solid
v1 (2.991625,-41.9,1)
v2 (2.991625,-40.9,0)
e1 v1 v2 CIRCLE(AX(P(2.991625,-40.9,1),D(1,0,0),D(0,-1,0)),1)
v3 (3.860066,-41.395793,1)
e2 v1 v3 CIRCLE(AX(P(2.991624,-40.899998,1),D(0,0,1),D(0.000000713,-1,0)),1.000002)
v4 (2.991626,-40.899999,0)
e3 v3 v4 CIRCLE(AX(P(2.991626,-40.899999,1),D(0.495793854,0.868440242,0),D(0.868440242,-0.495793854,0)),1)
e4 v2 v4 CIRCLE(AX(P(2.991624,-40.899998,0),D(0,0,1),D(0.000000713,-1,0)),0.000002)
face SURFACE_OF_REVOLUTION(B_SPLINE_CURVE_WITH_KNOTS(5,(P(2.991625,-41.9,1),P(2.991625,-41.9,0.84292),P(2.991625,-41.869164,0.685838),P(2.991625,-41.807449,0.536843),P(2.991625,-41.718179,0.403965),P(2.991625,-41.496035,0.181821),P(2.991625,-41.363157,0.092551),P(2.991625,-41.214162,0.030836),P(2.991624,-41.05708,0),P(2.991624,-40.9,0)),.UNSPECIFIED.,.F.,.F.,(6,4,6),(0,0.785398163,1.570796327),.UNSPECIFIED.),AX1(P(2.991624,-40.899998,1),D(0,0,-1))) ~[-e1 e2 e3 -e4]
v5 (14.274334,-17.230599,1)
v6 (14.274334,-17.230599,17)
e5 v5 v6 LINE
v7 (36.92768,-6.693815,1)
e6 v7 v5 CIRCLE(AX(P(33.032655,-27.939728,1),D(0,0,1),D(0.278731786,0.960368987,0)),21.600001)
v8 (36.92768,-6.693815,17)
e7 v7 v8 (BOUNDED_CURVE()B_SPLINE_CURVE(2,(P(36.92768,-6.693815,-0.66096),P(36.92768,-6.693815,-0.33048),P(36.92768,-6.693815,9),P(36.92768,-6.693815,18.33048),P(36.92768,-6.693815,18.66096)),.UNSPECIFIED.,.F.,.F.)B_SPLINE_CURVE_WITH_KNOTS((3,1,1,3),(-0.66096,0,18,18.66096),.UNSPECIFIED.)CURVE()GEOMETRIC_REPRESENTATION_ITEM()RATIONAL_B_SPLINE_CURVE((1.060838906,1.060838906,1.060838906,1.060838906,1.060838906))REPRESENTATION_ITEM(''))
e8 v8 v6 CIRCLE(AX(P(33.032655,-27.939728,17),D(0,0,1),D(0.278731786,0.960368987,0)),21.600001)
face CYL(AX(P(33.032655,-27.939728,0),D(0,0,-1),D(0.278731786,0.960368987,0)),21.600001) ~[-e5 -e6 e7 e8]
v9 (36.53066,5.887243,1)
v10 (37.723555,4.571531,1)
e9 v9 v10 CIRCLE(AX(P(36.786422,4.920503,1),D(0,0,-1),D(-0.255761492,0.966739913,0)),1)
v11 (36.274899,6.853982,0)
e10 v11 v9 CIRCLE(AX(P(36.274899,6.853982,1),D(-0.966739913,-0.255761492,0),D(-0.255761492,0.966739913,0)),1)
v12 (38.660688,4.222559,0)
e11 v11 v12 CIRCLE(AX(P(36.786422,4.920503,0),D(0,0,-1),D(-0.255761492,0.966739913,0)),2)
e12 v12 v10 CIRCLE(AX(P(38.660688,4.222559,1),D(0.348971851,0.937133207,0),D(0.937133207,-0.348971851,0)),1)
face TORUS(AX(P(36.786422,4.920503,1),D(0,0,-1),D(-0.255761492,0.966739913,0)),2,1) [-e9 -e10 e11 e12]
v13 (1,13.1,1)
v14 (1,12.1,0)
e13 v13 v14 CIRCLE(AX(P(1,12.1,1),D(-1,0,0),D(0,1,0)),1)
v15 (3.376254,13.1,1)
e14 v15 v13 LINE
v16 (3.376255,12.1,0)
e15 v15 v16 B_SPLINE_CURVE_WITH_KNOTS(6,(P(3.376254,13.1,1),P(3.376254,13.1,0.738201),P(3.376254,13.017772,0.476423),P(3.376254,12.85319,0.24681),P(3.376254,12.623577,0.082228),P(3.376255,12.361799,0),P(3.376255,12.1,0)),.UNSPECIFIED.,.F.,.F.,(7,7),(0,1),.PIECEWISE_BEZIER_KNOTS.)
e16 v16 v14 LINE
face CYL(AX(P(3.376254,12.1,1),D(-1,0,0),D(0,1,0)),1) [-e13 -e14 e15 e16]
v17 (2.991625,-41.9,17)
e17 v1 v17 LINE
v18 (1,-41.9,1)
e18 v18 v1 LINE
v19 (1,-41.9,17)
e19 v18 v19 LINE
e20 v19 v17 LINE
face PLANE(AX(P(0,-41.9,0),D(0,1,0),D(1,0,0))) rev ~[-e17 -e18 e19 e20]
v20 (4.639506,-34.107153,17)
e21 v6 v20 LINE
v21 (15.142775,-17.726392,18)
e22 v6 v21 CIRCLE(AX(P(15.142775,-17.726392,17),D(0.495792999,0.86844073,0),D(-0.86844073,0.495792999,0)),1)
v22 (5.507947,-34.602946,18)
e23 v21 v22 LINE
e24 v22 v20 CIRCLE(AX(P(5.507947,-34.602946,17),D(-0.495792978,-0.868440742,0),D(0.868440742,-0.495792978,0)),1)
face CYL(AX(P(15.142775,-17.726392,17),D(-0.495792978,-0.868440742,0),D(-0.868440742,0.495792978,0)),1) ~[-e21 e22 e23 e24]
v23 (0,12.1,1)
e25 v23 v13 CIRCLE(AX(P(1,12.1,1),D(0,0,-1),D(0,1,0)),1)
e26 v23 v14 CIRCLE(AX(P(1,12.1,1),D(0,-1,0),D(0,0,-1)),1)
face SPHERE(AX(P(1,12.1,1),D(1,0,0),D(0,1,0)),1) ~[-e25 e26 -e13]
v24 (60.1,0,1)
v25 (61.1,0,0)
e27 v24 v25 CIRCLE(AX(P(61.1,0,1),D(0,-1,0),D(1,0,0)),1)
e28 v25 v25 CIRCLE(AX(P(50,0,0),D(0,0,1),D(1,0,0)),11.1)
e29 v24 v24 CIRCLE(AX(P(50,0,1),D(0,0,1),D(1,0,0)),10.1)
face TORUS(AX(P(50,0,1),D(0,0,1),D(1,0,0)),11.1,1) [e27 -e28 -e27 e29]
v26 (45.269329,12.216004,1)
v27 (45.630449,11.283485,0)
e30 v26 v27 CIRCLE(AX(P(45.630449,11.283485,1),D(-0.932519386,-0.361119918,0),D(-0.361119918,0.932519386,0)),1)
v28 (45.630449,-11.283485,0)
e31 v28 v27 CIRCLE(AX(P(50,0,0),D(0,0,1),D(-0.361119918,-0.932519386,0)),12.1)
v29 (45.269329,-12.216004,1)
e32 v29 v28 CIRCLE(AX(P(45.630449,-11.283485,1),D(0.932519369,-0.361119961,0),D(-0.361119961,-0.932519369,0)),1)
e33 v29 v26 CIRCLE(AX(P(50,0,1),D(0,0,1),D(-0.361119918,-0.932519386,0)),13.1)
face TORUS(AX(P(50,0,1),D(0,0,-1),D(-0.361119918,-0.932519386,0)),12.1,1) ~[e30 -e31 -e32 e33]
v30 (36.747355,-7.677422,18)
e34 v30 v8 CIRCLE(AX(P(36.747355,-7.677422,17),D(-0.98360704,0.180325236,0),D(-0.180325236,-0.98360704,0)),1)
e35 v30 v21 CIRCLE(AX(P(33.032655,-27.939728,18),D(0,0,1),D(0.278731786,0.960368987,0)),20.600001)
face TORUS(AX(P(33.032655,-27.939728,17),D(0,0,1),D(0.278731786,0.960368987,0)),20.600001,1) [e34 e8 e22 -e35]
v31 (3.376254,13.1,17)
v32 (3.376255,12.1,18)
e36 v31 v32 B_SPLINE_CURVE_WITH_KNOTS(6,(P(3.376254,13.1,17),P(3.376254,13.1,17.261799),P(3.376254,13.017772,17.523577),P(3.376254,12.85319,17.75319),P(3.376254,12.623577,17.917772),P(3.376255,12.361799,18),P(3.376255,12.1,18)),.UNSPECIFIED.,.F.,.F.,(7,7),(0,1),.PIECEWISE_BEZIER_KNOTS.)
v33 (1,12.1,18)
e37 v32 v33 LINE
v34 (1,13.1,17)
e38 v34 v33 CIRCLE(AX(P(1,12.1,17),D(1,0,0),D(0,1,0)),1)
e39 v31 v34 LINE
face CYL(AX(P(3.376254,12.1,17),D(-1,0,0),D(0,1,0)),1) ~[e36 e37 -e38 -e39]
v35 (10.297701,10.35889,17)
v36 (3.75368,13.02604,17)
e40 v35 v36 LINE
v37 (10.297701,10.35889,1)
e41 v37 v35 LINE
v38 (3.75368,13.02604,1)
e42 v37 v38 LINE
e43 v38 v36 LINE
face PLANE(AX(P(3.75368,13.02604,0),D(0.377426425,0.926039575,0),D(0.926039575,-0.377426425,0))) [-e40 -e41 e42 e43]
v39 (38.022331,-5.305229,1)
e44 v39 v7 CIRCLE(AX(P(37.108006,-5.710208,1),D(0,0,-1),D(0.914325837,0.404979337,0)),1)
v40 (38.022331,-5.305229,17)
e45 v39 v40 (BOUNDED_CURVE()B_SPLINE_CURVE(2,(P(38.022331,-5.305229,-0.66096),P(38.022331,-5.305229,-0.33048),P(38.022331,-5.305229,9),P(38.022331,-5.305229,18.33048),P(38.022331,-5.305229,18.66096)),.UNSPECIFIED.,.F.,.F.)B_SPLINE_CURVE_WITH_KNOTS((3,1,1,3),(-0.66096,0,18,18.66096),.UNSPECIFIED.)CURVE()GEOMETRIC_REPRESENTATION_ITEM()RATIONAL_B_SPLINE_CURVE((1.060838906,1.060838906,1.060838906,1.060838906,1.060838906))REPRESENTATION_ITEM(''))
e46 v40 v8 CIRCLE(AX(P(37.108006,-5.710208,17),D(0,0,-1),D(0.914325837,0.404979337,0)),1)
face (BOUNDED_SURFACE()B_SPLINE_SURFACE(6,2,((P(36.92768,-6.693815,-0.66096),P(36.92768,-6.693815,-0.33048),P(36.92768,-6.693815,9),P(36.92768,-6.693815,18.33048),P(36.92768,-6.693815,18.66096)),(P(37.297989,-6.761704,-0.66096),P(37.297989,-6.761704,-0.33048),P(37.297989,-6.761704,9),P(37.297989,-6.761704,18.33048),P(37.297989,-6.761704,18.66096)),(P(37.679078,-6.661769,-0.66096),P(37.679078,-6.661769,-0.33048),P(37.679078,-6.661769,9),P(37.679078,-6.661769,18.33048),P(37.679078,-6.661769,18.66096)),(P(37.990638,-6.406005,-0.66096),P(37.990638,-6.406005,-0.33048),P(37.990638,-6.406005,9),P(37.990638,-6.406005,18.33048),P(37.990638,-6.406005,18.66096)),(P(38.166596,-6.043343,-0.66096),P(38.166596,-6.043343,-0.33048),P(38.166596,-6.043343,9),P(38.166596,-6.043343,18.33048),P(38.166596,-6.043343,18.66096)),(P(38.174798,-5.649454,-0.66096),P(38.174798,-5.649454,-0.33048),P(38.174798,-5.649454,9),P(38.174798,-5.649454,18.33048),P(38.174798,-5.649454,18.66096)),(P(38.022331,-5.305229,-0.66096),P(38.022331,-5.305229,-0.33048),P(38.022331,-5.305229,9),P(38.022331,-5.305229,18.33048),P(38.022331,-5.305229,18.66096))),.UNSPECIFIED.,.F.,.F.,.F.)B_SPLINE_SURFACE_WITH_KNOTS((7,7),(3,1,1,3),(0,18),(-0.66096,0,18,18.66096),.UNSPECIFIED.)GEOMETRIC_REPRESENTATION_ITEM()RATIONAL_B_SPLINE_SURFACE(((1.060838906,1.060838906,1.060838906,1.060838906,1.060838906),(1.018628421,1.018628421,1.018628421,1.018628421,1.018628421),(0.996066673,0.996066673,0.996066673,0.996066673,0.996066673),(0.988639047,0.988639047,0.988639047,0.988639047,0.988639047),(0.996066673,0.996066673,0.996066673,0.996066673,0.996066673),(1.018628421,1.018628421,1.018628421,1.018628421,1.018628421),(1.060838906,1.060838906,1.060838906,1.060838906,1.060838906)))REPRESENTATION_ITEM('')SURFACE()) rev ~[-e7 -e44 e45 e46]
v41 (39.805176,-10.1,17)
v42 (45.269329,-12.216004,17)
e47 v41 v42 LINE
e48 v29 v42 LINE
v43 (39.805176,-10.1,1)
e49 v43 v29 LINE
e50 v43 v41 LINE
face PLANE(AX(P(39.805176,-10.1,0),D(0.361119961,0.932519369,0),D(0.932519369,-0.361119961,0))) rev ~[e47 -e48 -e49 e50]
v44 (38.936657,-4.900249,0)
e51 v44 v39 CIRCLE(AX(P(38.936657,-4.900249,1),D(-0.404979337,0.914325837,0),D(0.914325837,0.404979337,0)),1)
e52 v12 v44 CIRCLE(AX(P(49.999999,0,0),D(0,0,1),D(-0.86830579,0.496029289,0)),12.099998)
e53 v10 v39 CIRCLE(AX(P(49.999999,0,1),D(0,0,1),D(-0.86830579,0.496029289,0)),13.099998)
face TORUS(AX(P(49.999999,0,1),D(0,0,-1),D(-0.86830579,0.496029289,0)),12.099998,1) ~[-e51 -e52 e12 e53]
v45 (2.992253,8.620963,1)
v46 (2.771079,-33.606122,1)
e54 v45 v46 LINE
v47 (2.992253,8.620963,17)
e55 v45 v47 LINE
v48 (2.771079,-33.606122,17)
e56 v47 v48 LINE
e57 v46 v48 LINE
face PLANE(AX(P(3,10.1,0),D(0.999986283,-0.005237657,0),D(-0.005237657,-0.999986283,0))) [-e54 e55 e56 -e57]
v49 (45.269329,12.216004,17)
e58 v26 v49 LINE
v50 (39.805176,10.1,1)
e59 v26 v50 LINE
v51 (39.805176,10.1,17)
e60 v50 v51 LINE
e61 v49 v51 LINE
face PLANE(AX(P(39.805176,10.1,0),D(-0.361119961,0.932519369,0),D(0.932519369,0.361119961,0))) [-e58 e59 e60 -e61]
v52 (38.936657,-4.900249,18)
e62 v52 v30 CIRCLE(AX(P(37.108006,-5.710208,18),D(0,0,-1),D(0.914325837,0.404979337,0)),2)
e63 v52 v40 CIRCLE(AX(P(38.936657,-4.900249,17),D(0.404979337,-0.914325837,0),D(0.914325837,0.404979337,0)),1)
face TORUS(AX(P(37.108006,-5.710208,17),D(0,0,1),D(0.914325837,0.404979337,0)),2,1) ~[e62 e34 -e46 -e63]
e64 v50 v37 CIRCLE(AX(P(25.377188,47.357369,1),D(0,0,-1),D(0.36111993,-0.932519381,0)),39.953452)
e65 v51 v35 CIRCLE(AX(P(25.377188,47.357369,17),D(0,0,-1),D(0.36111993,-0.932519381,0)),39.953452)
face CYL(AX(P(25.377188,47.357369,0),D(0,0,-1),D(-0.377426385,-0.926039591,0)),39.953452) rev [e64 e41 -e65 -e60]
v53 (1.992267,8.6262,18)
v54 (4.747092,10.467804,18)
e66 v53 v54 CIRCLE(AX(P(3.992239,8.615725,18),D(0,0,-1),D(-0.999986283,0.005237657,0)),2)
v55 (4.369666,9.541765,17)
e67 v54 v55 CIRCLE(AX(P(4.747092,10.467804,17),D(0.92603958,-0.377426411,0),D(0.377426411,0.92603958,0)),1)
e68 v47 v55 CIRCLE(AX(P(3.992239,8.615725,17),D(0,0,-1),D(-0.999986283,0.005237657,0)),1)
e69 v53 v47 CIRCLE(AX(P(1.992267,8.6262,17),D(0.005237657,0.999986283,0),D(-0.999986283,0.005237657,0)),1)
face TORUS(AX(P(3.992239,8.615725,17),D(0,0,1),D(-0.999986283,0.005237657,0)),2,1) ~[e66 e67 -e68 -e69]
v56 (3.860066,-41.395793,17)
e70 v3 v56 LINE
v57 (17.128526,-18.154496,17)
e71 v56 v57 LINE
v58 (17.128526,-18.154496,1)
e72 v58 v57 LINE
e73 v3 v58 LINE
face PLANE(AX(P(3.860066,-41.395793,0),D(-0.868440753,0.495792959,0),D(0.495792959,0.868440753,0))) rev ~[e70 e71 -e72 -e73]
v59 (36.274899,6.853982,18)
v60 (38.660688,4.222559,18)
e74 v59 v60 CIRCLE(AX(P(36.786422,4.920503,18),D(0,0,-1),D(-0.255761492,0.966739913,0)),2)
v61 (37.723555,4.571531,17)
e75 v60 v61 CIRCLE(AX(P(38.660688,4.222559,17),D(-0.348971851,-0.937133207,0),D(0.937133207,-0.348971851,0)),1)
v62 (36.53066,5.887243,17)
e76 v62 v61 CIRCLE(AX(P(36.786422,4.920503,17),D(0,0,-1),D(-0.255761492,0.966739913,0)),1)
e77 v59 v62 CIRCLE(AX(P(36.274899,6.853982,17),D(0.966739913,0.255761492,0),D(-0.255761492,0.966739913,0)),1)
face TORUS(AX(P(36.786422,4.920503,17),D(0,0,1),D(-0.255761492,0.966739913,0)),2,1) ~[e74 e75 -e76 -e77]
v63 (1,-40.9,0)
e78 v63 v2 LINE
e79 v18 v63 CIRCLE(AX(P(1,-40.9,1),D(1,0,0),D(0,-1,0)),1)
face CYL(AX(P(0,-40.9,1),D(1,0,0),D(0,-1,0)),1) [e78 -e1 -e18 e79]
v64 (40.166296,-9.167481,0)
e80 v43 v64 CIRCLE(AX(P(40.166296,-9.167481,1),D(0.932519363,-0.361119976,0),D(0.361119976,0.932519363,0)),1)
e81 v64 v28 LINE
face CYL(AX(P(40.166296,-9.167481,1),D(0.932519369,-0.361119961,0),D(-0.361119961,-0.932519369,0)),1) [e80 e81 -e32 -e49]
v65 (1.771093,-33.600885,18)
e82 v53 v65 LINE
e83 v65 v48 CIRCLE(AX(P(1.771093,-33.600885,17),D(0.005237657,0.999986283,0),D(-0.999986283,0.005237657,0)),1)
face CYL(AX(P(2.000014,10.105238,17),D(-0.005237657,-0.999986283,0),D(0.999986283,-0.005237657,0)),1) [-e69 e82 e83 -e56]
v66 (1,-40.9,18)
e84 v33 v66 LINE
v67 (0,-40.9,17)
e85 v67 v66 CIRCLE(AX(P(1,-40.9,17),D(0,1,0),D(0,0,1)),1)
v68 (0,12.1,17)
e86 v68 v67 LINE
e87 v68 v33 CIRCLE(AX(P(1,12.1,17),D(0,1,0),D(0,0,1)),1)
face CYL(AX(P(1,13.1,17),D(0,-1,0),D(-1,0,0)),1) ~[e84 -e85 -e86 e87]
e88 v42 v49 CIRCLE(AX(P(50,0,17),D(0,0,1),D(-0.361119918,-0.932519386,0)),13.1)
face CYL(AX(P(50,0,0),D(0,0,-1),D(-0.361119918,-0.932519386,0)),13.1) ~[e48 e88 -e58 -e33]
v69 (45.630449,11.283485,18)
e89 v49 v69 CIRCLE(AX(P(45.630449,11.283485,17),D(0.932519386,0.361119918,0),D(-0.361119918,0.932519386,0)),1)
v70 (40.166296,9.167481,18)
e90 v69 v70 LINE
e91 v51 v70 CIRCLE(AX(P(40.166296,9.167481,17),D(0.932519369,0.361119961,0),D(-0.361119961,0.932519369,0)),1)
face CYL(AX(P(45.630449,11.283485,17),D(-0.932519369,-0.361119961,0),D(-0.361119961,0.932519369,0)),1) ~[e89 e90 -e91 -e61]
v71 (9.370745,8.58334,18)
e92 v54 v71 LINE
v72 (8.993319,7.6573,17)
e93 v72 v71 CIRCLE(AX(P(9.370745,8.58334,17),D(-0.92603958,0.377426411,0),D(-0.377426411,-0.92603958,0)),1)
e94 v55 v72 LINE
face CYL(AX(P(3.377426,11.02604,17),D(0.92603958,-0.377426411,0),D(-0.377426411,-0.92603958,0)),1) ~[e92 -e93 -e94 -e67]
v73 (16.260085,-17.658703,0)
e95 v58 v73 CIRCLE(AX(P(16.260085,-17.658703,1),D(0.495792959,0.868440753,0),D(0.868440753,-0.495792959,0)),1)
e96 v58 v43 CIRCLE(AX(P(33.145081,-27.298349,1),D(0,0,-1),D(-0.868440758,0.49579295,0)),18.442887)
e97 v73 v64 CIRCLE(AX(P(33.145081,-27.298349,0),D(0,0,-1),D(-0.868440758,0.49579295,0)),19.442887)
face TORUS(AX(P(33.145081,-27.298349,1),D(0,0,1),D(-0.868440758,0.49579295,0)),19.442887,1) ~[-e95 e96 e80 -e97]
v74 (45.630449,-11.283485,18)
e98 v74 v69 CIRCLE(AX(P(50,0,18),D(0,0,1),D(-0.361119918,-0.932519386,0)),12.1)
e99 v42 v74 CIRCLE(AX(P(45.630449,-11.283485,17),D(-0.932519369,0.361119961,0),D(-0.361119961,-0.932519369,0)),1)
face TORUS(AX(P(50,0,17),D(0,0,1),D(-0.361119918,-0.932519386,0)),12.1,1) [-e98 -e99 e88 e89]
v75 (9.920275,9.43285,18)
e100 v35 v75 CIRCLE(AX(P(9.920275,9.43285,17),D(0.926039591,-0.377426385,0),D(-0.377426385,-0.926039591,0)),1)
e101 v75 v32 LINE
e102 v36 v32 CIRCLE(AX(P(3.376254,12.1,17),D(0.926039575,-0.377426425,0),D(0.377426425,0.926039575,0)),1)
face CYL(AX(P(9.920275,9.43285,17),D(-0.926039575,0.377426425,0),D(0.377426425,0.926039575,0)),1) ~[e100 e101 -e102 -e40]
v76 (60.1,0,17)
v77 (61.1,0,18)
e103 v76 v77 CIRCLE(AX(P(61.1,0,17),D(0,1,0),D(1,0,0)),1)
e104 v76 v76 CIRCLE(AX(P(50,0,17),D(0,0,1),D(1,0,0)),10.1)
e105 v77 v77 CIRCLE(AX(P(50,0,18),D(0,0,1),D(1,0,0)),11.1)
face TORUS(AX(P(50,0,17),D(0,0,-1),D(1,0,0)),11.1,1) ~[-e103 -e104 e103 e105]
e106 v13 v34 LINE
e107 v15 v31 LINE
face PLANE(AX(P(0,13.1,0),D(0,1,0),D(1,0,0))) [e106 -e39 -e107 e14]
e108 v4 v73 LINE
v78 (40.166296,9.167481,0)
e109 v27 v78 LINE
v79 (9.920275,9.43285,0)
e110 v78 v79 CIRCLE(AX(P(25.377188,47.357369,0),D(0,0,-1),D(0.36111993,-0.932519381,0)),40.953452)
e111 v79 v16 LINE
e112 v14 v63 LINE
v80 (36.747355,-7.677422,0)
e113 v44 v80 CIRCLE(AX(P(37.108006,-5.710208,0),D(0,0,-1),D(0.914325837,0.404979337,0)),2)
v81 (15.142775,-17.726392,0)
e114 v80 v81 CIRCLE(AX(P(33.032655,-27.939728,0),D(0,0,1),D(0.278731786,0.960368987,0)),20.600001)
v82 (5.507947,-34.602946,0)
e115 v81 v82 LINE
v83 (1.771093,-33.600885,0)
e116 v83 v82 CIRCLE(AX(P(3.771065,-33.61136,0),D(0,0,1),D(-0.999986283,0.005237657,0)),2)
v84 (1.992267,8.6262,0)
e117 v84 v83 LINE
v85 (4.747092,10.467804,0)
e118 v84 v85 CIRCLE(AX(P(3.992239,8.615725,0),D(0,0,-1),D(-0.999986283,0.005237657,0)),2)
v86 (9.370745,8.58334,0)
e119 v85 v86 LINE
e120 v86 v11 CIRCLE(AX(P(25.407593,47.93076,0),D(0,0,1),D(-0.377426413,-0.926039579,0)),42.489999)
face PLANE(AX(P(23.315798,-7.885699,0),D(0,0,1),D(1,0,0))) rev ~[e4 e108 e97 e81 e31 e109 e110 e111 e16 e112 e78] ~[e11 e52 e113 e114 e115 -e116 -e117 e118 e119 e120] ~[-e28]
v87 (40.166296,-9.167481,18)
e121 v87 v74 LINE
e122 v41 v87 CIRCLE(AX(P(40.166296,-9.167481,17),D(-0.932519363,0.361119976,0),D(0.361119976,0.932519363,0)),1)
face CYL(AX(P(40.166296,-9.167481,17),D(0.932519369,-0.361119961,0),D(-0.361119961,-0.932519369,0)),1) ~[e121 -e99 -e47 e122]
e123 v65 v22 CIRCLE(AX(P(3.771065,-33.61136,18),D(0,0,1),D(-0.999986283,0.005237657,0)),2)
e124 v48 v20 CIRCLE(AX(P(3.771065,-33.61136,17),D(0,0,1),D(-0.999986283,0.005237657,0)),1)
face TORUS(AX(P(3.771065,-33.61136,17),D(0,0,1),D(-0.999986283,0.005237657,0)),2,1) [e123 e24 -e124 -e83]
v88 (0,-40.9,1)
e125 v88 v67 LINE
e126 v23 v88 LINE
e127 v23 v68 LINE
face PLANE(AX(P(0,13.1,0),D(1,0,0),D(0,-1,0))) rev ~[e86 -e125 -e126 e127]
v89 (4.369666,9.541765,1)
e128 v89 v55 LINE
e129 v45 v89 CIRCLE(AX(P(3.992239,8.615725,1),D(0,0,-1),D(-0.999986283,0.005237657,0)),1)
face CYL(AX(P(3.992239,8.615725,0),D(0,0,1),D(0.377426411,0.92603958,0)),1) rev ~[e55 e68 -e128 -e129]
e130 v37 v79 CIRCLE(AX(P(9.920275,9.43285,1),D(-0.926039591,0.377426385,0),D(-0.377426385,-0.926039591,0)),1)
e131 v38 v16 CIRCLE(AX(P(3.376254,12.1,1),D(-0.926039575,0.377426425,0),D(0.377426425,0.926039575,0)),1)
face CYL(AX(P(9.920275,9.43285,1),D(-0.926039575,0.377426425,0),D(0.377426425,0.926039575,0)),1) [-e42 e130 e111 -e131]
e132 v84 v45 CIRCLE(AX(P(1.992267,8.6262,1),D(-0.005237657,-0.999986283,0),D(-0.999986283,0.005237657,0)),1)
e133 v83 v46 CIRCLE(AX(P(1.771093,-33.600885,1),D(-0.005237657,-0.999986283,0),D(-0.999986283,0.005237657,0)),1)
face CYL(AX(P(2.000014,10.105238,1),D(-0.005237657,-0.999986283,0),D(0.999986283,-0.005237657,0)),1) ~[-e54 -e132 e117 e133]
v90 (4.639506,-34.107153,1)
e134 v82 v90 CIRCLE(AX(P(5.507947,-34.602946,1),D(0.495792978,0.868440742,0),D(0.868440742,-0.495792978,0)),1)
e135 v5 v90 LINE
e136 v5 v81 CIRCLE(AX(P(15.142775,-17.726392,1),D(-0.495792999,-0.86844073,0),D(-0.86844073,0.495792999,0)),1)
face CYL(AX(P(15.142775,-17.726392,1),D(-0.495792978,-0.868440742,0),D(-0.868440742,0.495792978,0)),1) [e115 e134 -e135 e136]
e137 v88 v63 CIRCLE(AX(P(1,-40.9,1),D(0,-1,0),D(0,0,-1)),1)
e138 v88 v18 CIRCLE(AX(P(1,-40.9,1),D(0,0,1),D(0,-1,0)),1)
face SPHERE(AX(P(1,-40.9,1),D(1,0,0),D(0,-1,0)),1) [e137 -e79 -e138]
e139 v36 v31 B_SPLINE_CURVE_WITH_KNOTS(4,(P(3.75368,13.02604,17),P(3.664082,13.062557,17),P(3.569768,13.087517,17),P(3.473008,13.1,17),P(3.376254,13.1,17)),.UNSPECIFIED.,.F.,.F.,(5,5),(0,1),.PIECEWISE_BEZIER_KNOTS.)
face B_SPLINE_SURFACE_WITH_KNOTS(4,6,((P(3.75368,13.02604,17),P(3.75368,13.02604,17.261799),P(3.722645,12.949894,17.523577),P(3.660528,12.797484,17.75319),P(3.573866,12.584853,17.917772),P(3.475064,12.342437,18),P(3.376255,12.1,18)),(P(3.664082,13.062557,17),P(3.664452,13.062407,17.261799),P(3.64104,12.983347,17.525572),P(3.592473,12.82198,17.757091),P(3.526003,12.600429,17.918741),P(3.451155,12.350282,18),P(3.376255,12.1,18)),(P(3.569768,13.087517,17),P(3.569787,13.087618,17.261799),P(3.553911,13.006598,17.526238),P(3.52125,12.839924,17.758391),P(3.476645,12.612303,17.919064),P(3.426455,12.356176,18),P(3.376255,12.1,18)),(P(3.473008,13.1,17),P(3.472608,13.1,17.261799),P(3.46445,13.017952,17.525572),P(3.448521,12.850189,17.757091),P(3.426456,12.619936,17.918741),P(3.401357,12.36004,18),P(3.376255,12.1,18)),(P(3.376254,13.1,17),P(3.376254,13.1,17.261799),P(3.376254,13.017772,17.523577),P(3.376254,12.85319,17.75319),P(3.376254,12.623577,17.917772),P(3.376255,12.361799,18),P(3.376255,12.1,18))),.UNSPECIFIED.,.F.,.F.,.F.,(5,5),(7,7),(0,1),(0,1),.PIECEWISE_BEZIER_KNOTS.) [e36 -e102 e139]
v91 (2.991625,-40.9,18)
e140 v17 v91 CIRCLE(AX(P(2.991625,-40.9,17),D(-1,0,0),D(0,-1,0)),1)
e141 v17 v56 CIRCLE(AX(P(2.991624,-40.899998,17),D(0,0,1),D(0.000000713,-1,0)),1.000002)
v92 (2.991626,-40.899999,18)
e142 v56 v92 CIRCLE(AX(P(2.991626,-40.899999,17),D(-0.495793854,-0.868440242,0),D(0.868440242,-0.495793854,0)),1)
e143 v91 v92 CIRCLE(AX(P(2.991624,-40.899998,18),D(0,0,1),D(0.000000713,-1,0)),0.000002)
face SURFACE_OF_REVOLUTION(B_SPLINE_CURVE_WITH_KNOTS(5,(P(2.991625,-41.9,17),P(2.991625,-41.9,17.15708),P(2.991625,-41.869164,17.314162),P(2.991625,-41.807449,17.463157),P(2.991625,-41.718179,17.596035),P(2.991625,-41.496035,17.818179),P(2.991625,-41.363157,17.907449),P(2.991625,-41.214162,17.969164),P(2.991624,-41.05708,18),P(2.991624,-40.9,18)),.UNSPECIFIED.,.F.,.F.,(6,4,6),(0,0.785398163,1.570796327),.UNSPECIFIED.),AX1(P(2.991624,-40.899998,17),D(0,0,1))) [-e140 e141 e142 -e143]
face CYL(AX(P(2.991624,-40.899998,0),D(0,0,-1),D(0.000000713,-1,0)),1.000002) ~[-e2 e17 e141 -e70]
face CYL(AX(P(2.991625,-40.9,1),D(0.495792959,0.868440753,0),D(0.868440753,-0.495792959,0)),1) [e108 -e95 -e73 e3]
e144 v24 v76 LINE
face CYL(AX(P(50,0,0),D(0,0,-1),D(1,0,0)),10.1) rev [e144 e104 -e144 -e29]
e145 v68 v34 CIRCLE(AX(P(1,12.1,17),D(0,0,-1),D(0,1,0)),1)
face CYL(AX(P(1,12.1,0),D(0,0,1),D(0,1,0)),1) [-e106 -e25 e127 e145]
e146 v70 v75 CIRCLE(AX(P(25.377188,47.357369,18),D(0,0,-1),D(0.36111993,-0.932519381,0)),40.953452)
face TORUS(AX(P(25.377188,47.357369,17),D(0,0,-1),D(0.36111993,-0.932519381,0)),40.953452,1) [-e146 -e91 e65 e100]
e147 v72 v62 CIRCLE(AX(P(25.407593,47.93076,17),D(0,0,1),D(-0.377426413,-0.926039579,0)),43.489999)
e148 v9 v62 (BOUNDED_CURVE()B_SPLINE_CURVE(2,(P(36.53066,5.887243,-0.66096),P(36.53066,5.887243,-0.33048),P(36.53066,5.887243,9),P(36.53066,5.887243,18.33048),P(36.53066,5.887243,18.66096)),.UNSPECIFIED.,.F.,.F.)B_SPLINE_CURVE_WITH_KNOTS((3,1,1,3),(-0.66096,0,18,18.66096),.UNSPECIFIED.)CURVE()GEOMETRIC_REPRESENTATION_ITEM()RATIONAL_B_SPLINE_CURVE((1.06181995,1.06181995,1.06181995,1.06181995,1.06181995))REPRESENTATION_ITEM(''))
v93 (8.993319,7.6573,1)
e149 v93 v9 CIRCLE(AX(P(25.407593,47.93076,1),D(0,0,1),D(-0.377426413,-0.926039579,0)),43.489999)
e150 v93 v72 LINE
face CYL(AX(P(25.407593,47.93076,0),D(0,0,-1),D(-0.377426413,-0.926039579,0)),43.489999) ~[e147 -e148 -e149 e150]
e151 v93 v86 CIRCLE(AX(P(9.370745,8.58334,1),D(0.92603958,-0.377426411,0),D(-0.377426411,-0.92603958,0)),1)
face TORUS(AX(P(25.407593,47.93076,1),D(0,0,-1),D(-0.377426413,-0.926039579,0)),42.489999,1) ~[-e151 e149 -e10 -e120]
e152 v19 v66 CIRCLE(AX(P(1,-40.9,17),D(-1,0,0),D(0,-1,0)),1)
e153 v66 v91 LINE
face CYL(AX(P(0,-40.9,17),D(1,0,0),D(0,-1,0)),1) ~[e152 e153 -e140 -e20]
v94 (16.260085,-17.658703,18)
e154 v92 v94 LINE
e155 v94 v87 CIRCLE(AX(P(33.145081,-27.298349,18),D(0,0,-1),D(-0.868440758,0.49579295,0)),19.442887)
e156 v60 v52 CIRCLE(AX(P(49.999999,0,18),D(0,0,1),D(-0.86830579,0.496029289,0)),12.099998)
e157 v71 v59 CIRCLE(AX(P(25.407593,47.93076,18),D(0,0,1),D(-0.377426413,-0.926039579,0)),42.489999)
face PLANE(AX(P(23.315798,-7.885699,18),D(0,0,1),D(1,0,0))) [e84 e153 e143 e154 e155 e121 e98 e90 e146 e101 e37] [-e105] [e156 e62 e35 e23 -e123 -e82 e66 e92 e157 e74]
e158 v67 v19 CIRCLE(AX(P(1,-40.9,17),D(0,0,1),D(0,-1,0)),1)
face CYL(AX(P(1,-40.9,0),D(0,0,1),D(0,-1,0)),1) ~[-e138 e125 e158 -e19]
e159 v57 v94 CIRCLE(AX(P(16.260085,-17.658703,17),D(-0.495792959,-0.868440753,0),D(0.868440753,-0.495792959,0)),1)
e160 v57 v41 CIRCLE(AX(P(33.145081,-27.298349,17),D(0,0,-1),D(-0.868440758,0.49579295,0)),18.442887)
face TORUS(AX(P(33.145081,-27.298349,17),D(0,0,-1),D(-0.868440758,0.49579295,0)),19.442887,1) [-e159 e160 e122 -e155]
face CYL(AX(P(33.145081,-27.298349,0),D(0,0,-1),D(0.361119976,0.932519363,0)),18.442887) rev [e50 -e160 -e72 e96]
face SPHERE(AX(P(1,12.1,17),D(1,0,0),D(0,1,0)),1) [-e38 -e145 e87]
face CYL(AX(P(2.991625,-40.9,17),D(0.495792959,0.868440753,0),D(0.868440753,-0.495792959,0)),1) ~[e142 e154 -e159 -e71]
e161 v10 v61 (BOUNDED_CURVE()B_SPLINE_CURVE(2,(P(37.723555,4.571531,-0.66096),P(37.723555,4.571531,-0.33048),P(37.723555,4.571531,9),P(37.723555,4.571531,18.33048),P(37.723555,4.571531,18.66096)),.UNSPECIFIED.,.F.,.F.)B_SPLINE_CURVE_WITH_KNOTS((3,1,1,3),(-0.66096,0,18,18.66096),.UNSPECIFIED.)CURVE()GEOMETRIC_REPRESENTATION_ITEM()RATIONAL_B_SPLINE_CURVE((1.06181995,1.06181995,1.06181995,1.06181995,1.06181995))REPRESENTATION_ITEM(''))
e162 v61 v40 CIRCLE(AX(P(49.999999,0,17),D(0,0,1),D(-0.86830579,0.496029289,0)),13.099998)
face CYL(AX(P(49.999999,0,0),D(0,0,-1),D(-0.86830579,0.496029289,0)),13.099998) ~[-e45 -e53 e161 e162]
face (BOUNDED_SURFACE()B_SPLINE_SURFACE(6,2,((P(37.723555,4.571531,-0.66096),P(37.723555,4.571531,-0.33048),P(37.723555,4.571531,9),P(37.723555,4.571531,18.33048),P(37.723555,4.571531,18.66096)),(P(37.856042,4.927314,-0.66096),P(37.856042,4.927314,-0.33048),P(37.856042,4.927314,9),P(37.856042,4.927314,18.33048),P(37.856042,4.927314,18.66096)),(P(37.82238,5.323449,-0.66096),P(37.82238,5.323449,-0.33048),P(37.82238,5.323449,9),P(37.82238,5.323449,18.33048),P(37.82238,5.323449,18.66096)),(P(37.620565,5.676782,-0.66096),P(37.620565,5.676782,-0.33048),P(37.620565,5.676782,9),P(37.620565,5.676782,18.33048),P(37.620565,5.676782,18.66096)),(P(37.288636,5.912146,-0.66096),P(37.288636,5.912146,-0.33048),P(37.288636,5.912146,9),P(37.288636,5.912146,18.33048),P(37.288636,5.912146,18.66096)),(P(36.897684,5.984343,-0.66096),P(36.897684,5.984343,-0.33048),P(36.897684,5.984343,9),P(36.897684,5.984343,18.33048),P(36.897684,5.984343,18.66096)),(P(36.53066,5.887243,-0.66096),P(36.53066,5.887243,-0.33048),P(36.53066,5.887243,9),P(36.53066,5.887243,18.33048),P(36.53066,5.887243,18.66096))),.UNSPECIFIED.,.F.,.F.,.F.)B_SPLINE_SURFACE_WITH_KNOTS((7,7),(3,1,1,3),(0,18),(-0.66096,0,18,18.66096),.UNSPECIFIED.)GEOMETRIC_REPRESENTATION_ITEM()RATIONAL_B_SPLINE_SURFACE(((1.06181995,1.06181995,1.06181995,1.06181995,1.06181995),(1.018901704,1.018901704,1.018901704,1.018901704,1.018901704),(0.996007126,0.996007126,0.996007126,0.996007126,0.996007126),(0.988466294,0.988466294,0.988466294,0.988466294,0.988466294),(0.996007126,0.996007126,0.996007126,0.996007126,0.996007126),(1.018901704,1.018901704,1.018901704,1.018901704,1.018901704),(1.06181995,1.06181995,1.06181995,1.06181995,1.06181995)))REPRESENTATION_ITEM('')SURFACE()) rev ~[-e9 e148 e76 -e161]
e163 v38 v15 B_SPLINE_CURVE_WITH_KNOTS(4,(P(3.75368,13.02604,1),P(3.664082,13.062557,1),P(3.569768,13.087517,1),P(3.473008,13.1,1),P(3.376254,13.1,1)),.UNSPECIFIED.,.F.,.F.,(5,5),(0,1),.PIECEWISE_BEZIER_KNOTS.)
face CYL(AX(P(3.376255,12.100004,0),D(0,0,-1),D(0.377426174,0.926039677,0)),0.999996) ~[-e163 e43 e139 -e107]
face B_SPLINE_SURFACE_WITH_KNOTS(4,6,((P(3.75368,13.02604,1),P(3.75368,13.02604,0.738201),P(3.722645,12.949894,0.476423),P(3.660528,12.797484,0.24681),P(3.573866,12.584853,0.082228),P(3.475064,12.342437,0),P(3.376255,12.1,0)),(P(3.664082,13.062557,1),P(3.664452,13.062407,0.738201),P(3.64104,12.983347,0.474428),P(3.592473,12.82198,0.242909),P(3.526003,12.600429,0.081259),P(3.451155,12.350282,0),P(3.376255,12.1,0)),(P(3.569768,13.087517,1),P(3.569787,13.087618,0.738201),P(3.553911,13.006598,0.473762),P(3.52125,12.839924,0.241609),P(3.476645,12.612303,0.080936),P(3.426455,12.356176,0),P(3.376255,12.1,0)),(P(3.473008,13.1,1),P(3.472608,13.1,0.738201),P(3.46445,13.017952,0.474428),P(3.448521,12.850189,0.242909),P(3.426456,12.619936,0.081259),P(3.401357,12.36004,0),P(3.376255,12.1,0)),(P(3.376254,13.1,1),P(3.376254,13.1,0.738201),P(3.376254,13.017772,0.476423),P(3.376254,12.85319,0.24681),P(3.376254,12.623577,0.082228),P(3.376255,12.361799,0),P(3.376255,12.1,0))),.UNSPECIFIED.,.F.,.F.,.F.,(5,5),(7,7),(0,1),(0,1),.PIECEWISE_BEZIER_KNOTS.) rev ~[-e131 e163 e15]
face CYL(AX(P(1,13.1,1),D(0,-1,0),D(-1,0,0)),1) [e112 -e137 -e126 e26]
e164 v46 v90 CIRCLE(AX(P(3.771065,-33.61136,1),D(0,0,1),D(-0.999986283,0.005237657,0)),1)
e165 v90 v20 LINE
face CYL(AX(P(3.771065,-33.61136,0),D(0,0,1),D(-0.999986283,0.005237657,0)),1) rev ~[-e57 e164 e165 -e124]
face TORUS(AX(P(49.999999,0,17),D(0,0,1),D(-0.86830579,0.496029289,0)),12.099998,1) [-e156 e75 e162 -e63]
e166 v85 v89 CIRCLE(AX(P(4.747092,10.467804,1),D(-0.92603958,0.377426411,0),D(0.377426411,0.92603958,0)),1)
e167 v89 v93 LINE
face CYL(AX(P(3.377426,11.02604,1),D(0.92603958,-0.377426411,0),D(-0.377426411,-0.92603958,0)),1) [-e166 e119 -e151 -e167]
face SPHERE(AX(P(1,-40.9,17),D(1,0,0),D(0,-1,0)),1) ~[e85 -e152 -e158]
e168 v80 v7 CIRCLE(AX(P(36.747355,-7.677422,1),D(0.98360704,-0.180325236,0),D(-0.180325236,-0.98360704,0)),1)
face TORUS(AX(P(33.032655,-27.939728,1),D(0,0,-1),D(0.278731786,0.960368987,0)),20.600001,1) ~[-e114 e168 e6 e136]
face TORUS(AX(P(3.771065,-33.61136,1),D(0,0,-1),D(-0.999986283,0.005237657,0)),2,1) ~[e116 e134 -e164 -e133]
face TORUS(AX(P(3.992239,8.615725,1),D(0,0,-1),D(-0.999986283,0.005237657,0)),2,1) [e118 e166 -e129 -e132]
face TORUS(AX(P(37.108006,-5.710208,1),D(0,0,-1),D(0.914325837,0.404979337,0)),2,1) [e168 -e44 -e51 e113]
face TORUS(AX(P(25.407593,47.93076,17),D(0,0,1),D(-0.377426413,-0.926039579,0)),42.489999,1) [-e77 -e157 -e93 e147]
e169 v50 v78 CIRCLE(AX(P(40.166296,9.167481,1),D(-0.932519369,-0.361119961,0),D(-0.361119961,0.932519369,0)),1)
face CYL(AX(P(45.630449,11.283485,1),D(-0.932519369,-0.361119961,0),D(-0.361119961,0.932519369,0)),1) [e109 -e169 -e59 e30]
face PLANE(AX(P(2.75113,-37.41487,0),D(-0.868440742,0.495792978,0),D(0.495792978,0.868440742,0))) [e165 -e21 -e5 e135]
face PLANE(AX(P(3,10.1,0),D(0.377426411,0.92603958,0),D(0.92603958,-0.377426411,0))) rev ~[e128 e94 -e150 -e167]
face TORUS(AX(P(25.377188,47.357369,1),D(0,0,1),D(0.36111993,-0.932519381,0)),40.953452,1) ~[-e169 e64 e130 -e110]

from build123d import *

# Parameters (mm, degrees)
SKETCH_R  = 10.1
PAD_DEPTH = 18
FILLET_R  = 1


with BuildPart() as part:
    # Sketch → Pad (new body)
    with BuildSketch(Plane.XY):
        with BuildLine():
            ThreePointArc((45.269329, -12.216004), (63.1, 0), (45.269329, 12.216004))
            Line((39.805176, 10.1), (45.269329, 12.216004))
            ThreePointArc((10.297701, 10.35889), (25.026661, 7.405454), (39.805176, 10.1))
            Line((3.75368, 13.02604), (10.297701, 10.35889))
            ThreePointArc((3.75368, 13.02604), (3.568556, 13.081336), (3.376254, 13.1))
            Line((0, 13.1), (3.376254, 13.1))
            Line((0, 13.1), (0, -41.9))
            Line((0, -41.9), (2.991625, -41.9))
            ThreePointArc((2.991625, -41.9), (3.493724, -41.76481), (3.860066, -41.395793))
            Line((3.860066, -41.395793), (17.128526, -18.154496))
            ThreePointArc((39.805176, -10.1), (26.972192, -9.91918), (17.128526, -18.154496))
            Line((39.805176, -10.1), (45.269329, -12.216004))
        make_face()
        with Locations((50, 0)):
            Circle(SKETCH_R, mode=Mode.SUBTRACT)
        with BuildLine():
            ThreePointArc((8.993319, 7.6573), (23.707392, 4.474008), (38.625194, 6.497983))
            ThreePointArc((38.625194, 6.497983), (36.906396, -0.409308), (39.053262, -7.195757))
            ThreePointArc((39.053262, -7.195757), (24.924828, -7.919159), (14.274334, -17.230599))
            Line((2.75113, -37.41487), (14.274334, -17.230599))
            Line((3, 10.1), (2.75113, -37.41487))
            Line((3, 10.1), (8.993319, 7.6573))
        make_face(mode=Mode.SUBTRACT)
    extrude(amount=PAD_DEPTH)

    # Fillet
    fillet_edges = [part.edges().sort_by_distance(p)[0] for p in [
        (39.805176, -10.1, 9),
        (45.269329, -12.216004, 9),
        (42.537252, -11.158002, 0),
        (42.537252, -11.158002, 18),
        (45.269329, 12.216004, 9),
        (63.1, 0, 0),
        (63.1, 0, 18),
        (39.805176, 10.1, 9),
        (42.537252, 11.158002, 0),
        (42.537252, 11.158002, 18),
        (10.297701, 10.35889, 9),
        (25.026661, 7.405454, 0),
        (25.026661, 7.405454, 18),
        (3.75368, 13.02604, 9),
        (7.025691, 11.692465, 0),
        (7.025691, 11.692465, 18),
        (3.376254, 13.1, 9),
        (3.568556, 13.081336, 0),
        (3.568556, 13.081336, 18),
        (0, 13.1, 9),
        (1.688127, 13.1, 0),
        (1.688127, 13.1, 18),
        (0, -41.9, 9),
        (0, -14.4, 0),
        (0, -14.4, 18),
        (2.991625, -41.9, 9),
        (1.495812, -41.9, 0),
        (1.495812, -41.9, 18),
        (3.860066, -41.395793, 9),
        (3.493724, -41.76481, 0),
        (3.493724, -41.76481, 18),
        (17.128526, -18.154496, 9),
        (10.494296, -29.775145, 0),
        (10.494296, -29.775145, 18),
        (26.972192, -9.91918, 0),
        (26.972192, -9.91918, 18),
        (8.993319, 7.6573, 9),
        (38.625194, 6.497983, 9),
        (23.707392, 4.474008, 0),
        (23.707392, 4.474008, 18),
        (39.053262, -7.195757, 9),
        (36.906396, -0.409308, 0),
        (36.906396, -0.409308, 18),
        (14.274334, -17.230599, 9),
        (24.924828, -7.919159, 0),
        (24.924828, -7.919159, 18),
        (2.75113, -37.41487, 9),
        (8.512732, -27.322734, 0),
        (8.512732, -27.322734, 18),
        (3, 10.1, 9),
        (2.875565, -13.657435, 0),
        (2.875565, -13.657435, 18),
        (5.99666, 8.87865, 0),
        (5.99666, 8.87865, 18),
        (60.1, 0, 9),
        (39.9, 0, 0),
        (39.9, 0, 18),
    ]]
    fillet(fillet_edges, radius=FILLET_R)


solid = part.part
